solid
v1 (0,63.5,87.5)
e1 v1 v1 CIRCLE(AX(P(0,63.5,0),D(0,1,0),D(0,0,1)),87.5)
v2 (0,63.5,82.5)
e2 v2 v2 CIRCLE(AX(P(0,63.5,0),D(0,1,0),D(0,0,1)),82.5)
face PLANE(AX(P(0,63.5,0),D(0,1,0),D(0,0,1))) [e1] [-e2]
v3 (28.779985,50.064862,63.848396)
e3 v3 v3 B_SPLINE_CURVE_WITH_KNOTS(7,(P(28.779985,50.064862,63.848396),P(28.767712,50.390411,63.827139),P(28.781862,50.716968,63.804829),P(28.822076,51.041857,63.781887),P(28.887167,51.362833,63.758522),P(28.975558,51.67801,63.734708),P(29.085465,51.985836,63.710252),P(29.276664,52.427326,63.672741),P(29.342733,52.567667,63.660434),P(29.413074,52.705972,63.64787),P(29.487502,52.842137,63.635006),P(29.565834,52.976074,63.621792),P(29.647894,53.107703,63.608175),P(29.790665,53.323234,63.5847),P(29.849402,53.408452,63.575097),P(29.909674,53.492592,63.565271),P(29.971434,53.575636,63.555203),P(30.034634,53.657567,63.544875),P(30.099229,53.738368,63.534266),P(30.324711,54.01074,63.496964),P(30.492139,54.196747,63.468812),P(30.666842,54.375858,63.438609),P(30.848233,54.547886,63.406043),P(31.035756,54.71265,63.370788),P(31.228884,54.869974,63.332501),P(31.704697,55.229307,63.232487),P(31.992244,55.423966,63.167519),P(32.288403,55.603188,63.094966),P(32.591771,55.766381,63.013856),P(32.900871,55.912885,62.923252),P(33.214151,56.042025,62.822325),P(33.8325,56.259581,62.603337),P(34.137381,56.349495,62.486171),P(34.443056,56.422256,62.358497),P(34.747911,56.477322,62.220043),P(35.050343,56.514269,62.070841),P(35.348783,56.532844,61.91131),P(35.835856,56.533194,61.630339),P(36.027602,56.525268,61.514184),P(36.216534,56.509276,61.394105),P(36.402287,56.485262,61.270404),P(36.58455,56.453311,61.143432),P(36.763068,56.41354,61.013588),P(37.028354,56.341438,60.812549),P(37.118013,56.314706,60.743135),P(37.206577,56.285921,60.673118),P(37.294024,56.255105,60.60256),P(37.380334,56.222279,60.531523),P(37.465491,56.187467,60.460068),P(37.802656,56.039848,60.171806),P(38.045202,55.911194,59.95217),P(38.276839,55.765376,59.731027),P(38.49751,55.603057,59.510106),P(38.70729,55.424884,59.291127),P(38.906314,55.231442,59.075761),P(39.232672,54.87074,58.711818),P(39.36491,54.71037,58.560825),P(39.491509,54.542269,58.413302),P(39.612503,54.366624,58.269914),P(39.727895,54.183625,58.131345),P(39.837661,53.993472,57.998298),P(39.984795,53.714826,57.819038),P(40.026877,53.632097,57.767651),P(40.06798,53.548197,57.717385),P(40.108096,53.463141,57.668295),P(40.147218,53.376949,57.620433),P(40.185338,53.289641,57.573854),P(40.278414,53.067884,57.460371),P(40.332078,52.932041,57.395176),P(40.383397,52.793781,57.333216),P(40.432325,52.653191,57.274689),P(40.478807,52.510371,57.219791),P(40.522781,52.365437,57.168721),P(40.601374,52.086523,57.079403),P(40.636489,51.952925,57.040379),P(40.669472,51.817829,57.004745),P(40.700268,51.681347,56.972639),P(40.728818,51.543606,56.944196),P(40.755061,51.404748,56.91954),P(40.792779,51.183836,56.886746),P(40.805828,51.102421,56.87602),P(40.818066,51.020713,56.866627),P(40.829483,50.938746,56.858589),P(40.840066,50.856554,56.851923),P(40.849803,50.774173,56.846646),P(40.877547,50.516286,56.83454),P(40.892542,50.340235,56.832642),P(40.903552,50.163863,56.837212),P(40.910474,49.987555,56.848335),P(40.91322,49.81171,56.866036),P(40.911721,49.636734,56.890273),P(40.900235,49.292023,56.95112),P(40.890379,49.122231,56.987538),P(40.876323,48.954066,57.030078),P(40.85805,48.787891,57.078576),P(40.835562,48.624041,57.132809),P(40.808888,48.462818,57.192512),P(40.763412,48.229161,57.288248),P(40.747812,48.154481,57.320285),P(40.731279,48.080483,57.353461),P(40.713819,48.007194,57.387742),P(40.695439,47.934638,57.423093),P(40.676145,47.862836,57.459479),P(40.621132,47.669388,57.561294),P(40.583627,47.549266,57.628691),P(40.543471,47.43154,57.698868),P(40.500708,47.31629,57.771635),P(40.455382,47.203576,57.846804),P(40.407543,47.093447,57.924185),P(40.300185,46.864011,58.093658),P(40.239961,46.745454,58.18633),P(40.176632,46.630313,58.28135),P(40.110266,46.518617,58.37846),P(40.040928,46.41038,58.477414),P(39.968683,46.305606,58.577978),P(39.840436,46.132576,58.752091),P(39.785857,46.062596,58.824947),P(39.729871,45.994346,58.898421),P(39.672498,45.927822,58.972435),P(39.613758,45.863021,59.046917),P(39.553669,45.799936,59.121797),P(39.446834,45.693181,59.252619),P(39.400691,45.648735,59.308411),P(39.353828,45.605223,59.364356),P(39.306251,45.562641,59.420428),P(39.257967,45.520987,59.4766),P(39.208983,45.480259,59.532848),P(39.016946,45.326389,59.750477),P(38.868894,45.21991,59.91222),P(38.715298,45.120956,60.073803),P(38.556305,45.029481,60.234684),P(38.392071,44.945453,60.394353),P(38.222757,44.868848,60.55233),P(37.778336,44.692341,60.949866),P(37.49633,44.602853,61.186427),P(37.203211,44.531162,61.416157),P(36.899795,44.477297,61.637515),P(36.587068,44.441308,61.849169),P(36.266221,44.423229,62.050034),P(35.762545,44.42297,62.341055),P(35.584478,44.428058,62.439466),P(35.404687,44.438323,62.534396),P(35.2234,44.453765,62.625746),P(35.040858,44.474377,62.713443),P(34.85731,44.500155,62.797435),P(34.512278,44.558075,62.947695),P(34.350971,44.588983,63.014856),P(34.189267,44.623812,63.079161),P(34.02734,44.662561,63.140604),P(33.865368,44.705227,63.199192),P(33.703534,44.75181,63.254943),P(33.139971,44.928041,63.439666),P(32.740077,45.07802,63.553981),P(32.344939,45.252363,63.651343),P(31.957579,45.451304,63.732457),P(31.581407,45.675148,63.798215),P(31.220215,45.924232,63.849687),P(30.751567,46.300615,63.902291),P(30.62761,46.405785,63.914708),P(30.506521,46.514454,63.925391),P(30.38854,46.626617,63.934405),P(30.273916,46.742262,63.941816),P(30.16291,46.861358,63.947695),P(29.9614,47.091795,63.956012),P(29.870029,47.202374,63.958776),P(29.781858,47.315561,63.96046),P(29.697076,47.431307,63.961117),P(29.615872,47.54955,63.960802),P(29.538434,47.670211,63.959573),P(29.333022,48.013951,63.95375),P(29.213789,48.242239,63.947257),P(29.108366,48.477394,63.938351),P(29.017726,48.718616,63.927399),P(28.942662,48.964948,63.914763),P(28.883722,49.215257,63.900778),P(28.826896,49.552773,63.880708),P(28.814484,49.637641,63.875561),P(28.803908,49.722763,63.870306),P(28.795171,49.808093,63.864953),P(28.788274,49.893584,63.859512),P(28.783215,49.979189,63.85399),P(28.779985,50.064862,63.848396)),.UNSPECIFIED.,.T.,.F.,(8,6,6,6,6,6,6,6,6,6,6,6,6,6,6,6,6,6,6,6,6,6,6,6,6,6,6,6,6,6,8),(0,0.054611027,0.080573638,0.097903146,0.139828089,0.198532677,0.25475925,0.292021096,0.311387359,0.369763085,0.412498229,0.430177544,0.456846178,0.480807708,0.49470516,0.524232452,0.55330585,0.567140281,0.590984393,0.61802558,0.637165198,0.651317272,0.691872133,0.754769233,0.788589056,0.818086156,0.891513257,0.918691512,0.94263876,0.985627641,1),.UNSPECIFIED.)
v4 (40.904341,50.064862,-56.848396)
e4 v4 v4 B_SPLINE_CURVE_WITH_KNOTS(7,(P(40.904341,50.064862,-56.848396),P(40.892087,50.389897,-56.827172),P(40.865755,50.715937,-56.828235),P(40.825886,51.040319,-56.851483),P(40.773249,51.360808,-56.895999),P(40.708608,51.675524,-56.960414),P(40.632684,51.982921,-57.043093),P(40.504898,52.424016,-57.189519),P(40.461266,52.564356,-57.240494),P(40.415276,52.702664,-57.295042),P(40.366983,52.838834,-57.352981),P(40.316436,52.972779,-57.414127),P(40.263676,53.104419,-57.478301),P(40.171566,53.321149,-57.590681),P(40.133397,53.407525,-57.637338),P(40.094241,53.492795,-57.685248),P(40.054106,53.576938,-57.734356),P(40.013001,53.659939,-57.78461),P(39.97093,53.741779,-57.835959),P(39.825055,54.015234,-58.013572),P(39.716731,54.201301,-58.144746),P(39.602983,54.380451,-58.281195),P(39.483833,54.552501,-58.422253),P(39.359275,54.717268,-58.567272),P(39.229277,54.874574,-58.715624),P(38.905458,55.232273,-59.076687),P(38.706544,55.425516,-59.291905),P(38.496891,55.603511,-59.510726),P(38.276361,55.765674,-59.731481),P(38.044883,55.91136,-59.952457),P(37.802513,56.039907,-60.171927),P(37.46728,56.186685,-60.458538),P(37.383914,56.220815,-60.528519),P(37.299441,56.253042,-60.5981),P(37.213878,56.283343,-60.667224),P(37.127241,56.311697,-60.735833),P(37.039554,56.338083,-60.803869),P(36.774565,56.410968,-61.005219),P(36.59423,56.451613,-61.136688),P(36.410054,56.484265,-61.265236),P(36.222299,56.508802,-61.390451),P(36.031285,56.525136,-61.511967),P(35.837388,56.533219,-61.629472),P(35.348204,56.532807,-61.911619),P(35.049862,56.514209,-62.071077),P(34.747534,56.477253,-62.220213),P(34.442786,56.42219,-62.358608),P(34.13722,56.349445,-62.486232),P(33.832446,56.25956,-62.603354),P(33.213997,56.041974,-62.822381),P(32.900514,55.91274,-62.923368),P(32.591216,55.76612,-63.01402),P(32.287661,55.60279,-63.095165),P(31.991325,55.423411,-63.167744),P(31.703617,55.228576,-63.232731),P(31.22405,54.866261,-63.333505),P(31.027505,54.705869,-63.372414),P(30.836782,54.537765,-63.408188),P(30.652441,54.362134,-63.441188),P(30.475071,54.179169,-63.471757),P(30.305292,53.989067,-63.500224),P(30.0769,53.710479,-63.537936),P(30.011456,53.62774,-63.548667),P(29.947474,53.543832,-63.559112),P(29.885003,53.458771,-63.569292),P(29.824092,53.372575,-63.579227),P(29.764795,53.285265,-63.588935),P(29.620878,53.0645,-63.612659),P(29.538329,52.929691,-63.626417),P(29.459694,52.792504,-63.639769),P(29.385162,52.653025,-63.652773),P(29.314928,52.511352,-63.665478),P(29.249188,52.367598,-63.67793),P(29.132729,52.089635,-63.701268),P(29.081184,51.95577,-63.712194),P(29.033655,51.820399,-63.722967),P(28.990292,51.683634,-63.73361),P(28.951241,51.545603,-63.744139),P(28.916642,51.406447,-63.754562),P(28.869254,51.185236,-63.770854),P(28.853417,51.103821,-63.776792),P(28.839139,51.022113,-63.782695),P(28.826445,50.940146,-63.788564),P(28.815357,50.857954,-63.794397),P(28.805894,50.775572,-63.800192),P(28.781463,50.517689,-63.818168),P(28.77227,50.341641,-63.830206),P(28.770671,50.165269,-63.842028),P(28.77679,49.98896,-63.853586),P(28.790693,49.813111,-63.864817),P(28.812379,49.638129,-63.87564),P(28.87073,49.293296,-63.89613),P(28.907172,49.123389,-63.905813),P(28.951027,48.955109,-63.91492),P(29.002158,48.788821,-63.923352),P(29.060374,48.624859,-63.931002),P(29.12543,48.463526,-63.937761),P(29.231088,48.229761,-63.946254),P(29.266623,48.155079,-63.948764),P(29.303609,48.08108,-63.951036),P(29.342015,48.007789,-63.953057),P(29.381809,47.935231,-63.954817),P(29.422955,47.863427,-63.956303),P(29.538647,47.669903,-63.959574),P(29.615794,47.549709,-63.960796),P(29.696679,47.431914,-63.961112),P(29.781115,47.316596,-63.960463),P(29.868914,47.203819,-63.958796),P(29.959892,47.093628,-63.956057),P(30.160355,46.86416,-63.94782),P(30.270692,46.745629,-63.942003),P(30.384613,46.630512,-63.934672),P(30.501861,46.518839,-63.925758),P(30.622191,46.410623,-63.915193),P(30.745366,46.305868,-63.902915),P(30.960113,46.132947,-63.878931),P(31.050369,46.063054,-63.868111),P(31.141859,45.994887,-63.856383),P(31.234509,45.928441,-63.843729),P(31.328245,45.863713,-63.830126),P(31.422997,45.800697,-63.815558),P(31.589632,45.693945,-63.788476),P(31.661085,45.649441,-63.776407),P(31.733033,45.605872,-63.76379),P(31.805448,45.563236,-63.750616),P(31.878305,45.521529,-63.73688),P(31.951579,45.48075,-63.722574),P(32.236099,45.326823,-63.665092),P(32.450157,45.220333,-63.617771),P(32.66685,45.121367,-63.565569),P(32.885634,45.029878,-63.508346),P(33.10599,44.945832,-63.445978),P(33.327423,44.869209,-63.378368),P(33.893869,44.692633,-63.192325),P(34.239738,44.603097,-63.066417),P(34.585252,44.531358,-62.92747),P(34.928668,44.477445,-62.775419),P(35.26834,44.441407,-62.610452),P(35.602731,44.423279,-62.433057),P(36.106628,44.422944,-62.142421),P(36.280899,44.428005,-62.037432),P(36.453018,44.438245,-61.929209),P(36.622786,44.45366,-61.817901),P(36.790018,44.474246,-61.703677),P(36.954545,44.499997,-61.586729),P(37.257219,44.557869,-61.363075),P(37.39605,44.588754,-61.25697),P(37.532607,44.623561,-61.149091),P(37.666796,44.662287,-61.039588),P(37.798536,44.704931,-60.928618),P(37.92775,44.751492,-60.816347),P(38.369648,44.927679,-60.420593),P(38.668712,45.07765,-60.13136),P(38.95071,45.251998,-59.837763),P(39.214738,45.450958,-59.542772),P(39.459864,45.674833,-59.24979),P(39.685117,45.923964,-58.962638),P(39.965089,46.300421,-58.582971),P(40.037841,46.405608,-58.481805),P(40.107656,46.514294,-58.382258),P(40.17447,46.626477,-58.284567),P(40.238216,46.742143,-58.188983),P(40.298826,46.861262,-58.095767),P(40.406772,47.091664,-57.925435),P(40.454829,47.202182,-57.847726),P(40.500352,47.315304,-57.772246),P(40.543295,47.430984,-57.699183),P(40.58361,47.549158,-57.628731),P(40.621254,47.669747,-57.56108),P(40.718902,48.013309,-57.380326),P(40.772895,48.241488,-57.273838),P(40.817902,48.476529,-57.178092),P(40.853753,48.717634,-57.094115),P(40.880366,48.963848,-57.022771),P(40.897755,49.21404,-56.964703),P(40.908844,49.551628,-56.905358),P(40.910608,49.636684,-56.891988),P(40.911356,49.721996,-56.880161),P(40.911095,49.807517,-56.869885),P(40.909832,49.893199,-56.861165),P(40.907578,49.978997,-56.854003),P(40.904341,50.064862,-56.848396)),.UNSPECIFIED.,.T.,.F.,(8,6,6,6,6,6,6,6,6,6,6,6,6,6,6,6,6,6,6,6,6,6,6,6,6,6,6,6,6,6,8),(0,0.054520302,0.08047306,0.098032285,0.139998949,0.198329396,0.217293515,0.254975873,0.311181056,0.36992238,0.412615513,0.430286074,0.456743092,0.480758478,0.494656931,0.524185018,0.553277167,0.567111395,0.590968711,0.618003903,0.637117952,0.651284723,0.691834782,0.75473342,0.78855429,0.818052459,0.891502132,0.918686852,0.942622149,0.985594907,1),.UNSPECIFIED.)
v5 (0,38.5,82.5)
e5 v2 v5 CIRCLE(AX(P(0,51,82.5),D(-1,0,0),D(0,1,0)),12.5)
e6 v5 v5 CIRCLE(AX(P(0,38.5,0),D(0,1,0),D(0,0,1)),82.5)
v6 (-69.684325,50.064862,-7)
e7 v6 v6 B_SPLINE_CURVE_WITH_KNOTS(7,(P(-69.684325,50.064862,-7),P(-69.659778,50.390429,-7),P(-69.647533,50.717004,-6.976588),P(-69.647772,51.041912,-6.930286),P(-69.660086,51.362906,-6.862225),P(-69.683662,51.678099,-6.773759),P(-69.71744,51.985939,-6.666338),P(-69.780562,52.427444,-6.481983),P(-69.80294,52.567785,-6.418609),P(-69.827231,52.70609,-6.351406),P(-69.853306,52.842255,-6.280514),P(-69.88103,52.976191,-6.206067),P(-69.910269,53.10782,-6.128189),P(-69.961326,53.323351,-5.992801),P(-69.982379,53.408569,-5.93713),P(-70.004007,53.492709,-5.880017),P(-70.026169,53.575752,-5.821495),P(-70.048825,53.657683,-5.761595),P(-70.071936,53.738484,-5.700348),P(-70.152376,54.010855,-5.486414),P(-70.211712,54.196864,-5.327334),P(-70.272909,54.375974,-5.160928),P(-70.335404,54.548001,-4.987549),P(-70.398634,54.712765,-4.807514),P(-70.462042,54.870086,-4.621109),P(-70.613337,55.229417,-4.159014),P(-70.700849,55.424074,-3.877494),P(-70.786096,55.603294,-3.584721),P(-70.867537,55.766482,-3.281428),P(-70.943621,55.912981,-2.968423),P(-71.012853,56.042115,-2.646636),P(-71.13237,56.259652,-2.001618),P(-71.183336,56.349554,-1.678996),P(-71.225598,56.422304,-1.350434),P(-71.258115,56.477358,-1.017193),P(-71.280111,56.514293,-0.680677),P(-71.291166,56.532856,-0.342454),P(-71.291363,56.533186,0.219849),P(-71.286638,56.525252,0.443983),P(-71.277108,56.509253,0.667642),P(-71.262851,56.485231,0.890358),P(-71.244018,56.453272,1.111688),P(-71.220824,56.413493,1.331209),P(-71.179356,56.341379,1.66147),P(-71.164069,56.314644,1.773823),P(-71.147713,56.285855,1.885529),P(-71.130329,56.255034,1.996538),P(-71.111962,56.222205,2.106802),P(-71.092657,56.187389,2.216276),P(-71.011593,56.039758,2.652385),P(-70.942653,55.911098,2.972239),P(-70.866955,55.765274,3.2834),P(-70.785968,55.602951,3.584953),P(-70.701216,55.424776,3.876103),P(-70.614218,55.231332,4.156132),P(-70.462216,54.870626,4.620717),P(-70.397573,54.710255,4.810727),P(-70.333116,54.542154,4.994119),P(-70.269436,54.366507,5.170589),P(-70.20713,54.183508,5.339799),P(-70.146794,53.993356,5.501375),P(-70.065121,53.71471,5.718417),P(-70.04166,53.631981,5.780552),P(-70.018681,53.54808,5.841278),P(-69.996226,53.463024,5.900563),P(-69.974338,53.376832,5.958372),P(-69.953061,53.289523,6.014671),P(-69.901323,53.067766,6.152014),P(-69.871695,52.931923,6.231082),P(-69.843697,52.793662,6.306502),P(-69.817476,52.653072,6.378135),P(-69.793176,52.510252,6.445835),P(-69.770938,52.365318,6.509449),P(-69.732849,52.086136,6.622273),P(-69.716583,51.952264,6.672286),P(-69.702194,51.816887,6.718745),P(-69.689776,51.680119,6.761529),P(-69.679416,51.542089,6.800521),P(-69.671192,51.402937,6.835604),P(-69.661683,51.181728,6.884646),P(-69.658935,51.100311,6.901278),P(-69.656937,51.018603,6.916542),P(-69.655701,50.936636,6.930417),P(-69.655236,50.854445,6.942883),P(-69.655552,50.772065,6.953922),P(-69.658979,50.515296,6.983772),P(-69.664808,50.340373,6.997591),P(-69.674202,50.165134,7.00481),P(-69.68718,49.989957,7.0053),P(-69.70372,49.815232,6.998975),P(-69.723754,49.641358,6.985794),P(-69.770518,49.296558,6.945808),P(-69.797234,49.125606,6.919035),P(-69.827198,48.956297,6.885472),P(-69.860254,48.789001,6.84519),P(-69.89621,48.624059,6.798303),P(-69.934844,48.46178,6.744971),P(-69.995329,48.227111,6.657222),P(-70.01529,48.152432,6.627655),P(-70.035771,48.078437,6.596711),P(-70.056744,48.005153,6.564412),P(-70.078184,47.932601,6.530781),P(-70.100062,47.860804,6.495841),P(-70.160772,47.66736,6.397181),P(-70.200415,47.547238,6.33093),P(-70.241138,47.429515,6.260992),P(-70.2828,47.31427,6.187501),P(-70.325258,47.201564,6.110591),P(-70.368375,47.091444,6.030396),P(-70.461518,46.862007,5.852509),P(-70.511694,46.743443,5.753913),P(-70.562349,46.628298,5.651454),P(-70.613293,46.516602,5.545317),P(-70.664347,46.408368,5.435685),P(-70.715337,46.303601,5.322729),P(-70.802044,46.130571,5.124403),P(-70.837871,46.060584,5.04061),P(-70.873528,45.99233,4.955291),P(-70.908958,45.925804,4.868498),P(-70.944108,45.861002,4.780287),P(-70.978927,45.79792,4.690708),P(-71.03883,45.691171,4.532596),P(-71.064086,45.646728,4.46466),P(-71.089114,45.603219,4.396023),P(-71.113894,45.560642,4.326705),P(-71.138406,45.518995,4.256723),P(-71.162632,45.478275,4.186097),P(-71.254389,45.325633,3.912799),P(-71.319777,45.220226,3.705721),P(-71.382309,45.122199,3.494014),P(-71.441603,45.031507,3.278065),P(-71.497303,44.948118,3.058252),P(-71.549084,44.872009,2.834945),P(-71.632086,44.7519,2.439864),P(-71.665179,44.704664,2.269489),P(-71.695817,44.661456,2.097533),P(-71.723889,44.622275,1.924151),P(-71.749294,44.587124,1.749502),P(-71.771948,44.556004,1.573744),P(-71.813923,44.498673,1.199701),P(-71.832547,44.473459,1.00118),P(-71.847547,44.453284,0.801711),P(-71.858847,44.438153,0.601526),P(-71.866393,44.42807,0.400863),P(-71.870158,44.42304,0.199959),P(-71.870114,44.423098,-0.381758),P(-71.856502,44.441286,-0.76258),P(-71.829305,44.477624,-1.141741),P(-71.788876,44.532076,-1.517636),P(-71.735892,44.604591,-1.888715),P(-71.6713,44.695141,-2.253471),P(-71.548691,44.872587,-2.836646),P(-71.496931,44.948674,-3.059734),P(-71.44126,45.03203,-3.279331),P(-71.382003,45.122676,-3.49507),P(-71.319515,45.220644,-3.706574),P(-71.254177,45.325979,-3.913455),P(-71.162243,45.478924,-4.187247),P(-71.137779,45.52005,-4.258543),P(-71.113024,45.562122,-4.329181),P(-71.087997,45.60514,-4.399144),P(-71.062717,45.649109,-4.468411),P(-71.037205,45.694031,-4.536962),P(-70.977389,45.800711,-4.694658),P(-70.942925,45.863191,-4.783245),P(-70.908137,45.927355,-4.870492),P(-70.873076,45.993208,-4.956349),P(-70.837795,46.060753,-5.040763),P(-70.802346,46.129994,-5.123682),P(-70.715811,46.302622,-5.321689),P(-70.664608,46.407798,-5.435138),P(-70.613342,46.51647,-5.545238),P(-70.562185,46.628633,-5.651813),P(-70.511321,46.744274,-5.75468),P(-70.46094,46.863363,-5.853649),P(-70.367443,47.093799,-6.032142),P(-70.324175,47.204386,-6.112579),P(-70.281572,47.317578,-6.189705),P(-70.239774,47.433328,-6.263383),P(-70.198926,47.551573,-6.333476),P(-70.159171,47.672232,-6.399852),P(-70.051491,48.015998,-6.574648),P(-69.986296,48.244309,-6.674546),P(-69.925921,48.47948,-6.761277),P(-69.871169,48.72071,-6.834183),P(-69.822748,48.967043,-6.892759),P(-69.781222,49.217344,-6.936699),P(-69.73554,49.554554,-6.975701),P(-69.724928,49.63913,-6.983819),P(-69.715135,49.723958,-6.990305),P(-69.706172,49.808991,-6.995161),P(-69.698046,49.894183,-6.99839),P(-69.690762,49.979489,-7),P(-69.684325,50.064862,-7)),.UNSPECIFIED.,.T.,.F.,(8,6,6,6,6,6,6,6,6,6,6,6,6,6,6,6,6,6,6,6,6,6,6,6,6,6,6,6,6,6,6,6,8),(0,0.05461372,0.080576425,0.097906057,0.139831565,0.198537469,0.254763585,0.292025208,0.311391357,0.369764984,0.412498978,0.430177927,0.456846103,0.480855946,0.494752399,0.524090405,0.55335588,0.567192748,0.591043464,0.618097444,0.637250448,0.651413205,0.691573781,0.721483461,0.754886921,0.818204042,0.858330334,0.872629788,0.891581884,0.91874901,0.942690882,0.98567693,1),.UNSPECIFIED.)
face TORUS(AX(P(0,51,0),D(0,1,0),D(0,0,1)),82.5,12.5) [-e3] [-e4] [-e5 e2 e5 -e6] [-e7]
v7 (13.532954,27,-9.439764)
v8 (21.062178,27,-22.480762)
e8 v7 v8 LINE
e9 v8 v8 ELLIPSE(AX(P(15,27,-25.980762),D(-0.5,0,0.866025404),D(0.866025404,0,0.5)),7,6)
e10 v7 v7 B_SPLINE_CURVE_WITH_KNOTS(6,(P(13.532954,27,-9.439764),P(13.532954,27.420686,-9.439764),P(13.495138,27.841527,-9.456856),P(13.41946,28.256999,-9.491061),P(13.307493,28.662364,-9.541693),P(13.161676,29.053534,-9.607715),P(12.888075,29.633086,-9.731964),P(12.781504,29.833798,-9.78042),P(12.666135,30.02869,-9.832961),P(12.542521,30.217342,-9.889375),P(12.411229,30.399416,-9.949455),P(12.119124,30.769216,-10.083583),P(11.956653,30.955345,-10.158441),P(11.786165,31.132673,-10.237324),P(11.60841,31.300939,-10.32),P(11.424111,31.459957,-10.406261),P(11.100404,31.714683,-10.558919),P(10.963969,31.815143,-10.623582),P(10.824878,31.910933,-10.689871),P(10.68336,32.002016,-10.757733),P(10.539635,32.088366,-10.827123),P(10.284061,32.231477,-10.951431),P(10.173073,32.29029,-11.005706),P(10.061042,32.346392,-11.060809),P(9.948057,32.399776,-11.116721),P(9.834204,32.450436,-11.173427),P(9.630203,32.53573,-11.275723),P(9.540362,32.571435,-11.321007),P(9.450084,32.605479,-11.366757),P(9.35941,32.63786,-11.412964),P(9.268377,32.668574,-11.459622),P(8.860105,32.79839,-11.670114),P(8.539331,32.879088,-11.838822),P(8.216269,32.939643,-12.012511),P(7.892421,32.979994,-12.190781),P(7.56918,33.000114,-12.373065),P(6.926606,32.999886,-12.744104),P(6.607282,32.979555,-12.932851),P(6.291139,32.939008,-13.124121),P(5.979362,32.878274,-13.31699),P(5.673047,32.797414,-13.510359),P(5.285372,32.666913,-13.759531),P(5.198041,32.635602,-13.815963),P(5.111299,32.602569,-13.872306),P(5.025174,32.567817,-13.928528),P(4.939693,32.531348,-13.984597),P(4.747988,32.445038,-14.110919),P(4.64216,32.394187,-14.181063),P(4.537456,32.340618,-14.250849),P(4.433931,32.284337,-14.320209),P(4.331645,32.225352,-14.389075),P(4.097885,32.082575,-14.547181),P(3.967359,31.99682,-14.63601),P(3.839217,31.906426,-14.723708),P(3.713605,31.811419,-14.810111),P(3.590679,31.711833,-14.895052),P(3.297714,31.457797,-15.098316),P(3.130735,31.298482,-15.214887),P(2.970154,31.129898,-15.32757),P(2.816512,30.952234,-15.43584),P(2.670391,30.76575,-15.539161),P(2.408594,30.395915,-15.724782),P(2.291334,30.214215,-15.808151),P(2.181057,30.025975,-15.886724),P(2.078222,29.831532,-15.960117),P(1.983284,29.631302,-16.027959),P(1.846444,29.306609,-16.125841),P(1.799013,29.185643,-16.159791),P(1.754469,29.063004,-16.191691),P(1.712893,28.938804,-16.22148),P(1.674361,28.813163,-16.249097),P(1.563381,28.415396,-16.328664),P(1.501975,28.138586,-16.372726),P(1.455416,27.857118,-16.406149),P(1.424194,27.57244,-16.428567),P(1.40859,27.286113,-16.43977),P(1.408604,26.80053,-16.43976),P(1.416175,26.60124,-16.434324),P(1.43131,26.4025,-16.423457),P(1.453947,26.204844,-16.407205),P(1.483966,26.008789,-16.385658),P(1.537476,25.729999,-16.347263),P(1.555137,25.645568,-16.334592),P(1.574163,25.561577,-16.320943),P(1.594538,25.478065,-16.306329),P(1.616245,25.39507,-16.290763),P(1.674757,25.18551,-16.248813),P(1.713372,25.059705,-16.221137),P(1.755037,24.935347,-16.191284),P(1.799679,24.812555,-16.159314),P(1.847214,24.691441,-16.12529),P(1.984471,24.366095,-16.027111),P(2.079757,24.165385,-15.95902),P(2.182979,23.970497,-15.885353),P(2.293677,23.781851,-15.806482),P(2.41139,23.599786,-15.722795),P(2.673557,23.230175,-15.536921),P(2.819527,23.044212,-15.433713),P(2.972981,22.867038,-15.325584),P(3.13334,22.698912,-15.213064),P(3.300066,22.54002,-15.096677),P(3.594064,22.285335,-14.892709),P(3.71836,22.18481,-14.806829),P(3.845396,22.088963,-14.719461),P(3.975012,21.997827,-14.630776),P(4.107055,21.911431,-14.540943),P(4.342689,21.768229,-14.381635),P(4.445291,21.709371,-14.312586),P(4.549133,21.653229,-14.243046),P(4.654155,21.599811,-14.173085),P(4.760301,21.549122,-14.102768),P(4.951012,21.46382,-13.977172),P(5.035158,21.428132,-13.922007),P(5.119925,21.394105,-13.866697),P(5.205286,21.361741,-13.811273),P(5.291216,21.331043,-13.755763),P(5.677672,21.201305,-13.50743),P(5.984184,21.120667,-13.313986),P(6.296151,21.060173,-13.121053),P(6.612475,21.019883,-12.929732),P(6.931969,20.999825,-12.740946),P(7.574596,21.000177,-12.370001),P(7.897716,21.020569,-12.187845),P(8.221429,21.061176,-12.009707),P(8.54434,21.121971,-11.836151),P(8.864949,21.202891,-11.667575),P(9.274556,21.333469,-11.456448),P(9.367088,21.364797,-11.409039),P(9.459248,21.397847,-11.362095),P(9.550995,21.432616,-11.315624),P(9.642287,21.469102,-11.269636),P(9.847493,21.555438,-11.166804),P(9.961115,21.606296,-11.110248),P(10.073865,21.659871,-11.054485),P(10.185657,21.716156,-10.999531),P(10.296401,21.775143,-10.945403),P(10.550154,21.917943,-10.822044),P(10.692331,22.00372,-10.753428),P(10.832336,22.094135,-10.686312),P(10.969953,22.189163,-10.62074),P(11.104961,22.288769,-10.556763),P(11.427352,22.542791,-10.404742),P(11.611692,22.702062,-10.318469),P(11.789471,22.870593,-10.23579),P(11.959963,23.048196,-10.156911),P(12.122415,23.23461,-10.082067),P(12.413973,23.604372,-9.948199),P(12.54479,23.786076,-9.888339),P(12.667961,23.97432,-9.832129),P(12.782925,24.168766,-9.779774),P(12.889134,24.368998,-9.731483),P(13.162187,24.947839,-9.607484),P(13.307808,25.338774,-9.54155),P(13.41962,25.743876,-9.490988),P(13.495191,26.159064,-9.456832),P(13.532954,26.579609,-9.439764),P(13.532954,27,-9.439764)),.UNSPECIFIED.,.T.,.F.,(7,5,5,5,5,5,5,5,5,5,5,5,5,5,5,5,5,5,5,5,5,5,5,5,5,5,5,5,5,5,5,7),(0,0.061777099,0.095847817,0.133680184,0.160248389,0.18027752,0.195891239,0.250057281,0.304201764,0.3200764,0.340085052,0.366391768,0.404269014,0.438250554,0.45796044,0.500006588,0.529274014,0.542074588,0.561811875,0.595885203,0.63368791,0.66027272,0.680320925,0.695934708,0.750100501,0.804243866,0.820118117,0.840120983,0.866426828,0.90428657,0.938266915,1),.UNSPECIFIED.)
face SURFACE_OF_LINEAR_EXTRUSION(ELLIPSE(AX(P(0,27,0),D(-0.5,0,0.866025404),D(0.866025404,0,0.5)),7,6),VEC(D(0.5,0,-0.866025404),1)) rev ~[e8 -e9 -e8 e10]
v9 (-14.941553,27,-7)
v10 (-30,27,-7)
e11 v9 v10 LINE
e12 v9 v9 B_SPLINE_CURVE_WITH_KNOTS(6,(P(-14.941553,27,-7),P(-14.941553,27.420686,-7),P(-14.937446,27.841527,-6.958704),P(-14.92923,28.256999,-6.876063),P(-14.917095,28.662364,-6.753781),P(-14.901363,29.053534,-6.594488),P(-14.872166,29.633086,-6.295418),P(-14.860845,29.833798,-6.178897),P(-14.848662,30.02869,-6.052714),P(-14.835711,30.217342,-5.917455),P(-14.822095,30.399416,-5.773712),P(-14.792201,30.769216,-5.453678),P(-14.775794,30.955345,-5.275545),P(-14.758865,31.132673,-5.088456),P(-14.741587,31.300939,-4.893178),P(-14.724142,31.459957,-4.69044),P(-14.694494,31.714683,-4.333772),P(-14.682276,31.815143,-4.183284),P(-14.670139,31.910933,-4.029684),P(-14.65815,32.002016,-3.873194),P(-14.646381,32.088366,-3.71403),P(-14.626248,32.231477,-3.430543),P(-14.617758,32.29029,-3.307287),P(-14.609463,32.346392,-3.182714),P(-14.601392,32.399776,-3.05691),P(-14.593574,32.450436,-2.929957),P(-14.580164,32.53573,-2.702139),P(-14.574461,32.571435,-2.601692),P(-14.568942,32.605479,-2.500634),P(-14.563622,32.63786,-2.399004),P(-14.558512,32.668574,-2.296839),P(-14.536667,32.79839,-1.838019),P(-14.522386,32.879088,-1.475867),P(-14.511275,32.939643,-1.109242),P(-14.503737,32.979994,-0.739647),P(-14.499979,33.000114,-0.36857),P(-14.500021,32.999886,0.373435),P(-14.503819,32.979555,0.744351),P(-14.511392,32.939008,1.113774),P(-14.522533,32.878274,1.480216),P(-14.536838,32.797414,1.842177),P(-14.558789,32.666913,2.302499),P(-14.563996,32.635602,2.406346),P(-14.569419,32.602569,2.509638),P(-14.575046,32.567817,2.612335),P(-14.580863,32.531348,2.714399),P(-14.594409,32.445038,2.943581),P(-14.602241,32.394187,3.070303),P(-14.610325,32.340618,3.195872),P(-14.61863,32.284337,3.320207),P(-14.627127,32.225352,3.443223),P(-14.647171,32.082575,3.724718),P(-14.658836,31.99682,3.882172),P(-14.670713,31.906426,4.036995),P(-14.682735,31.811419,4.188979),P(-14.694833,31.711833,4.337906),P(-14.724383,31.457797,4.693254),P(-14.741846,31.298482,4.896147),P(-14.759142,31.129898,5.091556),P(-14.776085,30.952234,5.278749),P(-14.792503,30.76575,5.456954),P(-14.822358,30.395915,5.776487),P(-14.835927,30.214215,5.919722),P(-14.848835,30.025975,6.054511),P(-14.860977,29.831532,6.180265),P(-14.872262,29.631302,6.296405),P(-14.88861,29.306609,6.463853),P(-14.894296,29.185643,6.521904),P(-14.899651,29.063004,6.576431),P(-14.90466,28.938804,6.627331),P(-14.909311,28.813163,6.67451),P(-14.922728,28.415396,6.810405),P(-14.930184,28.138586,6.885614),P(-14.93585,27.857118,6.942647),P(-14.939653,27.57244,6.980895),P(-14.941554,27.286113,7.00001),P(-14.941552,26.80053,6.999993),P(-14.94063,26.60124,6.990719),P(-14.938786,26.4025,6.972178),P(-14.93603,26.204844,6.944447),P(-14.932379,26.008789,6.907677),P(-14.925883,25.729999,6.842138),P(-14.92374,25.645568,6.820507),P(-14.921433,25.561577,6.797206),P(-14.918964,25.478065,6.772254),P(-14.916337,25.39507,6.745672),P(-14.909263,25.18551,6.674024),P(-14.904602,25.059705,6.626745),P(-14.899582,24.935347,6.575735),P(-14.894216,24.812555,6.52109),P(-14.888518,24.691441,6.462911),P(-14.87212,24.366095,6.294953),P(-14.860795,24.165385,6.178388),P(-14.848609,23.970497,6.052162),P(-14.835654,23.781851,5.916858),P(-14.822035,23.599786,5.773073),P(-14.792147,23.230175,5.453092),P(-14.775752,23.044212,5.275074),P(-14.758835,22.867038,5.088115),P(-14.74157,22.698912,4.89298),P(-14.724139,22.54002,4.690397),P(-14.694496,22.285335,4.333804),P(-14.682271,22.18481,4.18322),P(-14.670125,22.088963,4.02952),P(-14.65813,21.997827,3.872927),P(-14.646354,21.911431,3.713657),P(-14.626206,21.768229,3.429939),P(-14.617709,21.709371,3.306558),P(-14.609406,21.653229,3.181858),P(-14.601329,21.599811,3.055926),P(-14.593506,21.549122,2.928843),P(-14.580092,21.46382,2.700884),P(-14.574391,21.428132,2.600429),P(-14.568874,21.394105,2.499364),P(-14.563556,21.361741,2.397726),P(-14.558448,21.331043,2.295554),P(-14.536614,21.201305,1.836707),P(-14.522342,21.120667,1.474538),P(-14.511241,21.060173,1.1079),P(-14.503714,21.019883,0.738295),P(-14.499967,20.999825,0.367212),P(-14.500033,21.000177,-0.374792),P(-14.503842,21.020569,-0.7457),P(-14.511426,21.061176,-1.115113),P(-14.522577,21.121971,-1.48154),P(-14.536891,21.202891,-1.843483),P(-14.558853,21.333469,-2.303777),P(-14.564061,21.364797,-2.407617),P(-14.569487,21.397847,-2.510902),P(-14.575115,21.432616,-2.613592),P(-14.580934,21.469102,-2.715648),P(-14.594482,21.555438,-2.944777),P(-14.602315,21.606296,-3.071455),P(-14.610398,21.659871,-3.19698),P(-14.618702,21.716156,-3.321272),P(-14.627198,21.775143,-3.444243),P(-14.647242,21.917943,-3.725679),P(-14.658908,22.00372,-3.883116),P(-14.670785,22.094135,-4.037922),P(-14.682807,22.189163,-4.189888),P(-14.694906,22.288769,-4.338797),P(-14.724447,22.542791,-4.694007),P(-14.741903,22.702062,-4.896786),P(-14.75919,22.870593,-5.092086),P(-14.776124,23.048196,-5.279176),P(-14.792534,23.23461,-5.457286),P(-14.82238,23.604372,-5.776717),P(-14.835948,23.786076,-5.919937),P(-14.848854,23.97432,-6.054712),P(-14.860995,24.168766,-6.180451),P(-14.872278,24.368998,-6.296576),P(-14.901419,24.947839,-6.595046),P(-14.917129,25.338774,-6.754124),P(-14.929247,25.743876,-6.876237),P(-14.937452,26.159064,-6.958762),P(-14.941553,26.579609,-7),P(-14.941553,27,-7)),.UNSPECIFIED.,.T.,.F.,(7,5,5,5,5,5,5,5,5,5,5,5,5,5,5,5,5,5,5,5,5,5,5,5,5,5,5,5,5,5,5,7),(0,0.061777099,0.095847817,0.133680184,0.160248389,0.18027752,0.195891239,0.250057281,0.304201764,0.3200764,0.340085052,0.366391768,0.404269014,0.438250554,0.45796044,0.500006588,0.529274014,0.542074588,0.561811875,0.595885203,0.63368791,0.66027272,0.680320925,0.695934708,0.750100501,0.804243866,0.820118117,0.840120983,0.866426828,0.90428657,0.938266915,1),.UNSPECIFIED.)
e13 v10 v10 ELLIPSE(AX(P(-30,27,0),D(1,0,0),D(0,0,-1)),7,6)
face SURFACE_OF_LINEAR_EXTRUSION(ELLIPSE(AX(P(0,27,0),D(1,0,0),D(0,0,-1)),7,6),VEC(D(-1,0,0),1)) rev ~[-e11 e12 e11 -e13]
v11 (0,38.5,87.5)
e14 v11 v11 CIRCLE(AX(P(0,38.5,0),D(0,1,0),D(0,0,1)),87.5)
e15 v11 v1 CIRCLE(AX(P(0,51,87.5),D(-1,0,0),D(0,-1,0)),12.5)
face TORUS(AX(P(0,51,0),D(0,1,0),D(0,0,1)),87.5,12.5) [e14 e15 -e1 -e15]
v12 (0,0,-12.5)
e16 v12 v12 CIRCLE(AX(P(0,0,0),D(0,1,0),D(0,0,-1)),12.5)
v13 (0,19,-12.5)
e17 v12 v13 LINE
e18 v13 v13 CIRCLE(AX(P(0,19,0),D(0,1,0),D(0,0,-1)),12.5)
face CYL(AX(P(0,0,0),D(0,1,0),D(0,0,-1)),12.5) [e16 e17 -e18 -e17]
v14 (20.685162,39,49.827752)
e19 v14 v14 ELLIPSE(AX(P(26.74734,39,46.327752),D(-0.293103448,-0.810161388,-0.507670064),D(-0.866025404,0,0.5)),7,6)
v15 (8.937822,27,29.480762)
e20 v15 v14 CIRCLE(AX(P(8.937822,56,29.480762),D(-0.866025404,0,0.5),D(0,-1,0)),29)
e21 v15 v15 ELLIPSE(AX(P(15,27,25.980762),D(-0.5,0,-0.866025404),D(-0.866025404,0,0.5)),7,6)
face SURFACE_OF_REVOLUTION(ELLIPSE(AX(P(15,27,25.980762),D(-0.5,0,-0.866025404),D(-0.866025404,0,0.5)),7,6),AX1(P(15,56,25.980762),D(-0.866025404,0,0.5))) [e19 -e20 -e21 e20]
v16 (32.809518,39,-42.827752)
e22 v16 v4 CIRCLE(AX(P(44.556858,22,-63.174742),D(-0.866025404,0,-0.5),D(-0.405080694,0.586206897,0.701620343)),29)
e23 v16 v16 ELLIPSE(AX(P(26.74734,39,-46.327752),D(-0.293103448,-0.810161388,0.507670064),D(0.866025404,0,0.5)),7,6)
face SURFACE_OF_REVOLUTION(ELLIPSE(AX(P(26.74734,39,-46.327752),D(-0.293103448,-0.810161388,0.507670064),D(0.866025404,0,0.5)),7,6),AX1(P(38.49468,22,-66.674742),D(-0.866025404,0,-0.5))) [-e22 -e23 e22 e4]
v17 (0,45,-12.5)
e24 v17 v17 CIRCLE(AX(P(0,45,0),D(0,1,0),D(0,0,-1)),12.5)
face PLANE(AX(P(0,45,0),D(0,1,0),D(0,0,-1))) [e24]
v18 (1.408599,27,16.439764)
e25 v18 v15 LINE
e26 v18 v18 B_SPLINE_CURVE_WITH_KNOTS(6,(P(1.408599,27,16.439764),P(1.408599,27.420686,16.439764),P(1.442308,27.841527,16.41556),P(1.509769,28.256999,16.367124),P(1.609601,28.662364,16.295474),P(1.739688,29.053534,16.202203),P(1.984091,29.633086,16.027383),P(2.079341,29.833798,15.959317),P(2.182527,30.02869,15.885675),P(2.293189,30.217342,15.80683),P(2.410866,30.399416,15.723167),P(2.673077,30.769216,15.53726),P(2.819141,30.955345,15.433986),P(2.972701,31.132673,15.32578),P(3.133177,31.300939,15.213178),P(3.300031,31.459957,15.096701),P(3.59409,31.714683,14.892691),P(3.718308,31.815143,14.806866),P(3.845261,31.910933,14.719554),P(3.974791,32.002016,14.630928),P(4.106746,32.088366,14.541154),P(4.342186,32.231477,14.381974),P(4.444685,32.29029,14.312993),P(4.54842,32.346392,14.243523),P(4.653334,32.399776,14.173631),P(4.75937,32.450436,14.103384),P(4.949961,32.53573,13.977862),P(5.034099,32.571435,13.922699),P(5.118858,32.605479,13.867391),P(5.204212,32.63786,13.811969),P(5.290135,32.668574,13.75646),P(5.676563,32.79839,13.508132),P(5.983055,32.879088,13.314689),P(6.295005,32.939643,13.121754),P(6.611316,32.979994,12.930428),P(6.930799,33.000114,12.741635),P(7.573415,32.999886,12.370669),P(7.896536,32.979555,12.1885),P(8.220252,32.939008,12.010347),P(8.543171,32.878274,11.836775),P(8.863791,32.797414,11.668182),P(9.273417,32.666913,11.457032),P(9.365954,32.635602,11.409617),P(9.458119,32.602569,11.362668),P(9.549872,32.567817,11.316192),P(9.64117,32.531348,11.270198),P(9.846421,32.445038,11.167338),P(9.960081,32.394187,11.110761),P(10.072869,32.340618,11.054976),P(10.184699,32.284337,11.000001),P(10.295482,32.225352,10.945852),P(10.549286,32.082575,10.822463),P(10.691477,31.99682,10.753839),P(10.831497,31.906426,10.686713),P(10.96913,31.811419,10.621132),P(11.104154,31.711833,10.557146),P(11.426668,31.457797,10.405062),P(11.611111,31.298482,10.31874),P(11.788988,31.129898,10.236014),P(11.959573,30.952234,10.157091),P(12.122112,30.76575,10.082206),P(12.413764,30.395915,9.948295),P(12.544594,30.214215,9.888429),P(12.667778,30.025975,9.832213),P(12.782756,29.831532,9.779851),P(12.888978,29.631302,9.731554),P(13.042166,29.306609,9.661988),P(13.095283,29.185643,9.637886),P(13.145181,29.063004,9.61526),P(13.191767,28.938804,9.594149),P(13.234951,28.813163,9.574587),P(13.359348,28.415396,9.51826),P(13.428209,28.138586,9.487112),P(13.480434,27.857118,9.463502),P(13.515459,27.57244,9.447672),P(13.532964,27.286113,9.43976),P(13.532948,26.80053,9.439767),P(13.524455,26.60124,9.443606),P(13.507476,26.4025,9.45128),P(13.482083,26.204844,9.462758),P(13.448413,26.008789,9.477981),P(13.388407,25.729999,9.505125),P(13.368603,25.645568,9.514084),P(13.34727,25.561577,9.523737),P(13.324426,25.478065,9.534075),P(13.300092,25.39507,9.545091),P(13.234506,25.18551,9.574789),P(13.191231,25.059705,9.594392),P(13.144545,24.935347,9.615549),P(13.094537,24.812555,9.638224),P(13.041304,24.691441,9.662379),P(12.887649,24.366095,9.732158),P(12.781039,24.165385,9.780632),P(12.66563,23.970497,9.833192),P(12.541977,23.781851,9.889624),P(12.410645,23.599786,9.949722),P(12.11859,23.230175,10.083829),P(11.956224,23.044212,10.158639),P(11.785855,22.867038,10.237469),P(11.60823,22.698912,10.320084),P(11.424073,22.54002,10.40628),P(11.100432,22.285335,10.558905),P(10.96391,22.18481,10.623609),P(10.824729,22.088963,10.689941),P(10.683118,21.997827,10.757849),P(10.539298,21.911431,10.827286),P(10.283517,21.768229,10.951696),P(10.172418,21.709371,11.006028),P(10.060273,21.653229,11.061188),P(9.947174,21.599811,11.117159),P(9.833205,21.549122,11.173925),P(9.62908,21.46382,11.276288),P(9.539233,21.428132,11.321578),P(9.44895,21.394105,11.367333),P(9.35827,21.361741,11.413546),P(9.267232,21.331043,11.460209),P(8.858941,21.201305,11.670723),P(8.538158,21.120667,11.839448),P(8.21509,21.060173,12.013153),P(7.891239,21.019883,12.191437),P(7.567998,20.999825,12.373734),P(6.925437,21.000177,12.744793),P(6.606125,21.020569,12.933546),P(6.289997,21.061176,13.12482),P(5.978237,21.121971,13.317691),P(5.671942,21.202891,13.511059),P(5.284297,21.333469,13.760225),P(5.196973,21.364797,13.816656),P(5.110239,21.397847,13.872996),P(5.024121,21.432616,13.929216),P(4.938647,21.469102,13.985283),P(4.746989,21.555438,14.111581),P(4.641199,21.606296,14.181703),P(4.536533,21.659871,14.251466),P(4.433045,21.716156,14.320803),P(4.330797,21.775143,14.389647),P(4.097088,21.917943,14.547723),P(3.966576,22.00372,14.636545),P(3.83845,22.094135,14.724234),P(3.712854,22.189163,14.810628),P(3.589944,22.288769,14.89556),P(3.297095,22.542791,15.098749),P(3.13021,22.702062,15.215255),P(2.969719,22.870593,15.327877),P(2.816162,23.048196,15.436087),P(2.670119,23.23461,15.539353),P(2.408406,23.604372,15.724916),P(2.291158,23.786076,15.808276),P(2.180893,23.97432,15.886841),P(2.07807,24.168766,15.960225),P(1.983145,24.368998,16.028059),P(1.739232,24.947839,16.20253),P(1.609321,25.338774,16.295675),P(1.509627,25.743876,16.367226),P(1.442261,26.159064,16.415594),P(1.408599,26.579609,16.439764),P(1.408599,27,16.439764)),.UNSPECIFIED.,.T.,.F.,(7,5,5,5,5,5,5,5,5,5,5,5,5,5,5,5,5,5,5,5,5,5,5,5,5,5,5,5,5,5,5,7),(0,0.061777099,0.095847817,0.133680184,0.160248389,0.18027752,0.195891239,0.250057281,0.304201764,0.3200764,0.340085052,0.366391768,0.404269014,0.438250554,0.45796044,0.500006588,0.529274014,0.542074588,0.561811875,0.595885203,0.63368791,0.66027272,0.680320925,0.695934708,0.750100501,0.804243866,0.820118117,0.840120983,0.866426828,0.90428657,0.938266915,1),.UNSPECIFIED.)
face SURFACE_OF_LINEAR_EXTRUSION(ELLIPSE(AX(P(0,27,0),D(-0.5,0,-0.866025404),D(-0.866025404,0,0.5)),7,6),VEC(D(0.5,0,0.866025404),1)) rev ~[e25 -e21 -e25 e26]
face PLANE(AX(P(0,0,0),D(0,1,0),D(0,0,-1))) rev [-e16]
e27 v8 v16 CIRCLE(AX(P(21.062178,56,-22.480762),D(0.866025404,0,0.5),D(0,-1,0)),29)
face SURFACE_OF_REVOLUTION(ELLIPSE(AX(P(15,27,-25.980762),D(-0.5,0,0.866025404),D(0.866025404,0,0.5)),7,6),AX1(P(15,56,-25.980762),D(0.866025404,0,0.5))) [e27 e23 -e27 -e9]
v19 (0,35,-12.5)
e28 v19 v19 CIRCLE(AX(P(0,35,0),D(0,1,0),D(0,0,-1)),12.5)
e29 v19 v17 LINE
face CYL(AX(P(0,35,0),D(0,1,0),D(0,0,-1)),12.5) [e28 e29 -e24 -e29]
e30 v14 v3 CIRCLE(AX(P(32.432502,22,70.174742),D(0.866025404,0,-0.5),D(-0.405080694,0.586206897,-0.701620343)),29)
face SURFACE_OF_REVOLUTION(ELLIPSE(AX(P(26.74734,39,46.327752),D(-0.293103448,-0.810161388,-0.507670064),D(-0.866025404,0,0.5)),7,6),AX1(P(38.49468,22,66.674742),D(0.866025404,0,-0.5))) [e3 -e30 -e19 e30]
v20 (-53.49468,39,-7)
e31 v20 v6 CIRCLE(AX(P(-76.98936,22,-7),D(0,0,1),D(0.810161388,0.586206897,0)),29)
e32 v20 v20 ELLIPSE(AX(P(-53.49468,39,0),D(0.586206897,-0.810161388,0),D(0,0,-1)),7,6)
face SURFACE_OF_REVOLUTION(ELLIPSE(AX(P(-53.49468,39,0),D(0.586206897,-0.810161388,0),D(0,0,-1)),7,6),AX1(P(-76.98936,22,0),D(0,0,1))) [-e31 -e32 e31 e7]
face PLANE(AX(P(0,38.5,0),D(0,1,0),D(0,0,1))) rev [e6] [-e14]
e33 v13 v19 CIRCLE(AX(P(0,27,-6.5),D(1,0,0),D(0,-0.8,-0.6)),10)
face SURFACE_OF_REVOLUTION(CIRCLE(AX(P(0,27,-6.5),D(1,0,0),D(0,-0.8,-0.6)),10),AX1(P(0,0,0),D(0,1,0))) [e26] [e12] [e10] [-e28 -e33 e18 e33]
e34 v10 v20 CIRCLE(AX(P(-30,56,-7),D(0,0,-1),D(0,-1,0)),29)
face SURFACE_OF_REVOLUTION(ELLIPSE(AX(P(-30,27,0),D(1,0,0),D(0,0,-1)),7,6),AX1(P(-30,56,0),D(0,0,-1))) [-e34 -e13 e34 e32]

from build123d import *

# Parameters (mm, degrees)
SKETCH_4_RX              = 7
SKETCH_4_RY              = 6
PATTERN_CIRCULAR_1_COUNT = 3


with BuildPart() as part:
    # 스케치1 → 회전1 (revolve)
    with BuildSketch(Plane.XY, mode=Mode.PRIVATE) as revolve_1_sk:
        with BuildLine():
            Line((-12.5, 35), (-12.5, 45))
            Line((-12.5, 45), (0, 45))
            Line((0, 45), (0, 0))
            Line((0, 0), (-12.5, 0))
            Line((-12.5, 0), (-12.5, 19))
            ThreePointArc((-12.5, 19), (-16.5, 27), (-12.5, 35))
        make_face()
    revolve(revolve_1_sk.sketch.rotate(Axis((0, 0, 0), (0, 1, 0)), 270), axis=Axis((0, 0, 0), (0, 1, 0)))



with BuildPart() as body_2:
    # 스케치2 → 회전2 (revolve)
    with BuildSketch(Plane.XY, mode=Mode.PRIVATE) as revolve_2_sk:
        with BuildLine():
            Line((-87.5, 63.5), (-82.5, 63.5))
            ThreePointArc((-82.5, 63.5), (-70, 51), (-82.5, 38.5))
            Line((-82.5, 38.5), (-87.5, 38.5))
            ThreePointArc((-87.5, 38.5), (-100, 51), (-87.5, 63.5))
        make_face()
    revolve(revolve_2_sk.sketch.rotate(Axis((0, 51, 0), (0, 1, 0)), 90), axis=Axis((0, 51, 0), (0, 1, 0)))


with BuildPart() as part_1:
    add(part.part)

    add(body_2.part)  # 스윕1 merges body 2
    # 스윕1: sweep along a path in 스케치3
    with BuildLine(Plane.XY) as sweep_1_path:
        Line((0, 27), (-30, 27))
        ThreePointArc((-30, 27), (-43.190905958, 30.17365686), (-53.494680249, 39))
        ThreePointArc((-53.494680249, 39), (-63.79845454, 47.82634314), (-76.989360498, 51))
        Line((-76.989360498, 51), (-85, 51))
    # 스케치4 → 스윕1 (sweep)
    with BuildSketch(Plane(origin=(0, 0, 0), x_dir=(0, 0, -1), z_dir=(1, 0, 0))):
        with Locations((0, 27)):
            Ellipse(SKETCH_4_RX, SKETCH_4_RY)
    sweep_1 = sweep(path=sweep_1_path.line)

    # 원형 패턴1: 스윕1 ×3 about axis
    pattern_circular_1_axis = Axis((0, 45, 0), (0, -1, 0))
    for i in range(1, PATTERN_CIRCULAR_1_COUNT):
        add(sweep_1.rotate(pattern_circular_1_axis, i * 360 / PATTERN_CIRCULAR_1_COUNT))


solid = part_1.part
